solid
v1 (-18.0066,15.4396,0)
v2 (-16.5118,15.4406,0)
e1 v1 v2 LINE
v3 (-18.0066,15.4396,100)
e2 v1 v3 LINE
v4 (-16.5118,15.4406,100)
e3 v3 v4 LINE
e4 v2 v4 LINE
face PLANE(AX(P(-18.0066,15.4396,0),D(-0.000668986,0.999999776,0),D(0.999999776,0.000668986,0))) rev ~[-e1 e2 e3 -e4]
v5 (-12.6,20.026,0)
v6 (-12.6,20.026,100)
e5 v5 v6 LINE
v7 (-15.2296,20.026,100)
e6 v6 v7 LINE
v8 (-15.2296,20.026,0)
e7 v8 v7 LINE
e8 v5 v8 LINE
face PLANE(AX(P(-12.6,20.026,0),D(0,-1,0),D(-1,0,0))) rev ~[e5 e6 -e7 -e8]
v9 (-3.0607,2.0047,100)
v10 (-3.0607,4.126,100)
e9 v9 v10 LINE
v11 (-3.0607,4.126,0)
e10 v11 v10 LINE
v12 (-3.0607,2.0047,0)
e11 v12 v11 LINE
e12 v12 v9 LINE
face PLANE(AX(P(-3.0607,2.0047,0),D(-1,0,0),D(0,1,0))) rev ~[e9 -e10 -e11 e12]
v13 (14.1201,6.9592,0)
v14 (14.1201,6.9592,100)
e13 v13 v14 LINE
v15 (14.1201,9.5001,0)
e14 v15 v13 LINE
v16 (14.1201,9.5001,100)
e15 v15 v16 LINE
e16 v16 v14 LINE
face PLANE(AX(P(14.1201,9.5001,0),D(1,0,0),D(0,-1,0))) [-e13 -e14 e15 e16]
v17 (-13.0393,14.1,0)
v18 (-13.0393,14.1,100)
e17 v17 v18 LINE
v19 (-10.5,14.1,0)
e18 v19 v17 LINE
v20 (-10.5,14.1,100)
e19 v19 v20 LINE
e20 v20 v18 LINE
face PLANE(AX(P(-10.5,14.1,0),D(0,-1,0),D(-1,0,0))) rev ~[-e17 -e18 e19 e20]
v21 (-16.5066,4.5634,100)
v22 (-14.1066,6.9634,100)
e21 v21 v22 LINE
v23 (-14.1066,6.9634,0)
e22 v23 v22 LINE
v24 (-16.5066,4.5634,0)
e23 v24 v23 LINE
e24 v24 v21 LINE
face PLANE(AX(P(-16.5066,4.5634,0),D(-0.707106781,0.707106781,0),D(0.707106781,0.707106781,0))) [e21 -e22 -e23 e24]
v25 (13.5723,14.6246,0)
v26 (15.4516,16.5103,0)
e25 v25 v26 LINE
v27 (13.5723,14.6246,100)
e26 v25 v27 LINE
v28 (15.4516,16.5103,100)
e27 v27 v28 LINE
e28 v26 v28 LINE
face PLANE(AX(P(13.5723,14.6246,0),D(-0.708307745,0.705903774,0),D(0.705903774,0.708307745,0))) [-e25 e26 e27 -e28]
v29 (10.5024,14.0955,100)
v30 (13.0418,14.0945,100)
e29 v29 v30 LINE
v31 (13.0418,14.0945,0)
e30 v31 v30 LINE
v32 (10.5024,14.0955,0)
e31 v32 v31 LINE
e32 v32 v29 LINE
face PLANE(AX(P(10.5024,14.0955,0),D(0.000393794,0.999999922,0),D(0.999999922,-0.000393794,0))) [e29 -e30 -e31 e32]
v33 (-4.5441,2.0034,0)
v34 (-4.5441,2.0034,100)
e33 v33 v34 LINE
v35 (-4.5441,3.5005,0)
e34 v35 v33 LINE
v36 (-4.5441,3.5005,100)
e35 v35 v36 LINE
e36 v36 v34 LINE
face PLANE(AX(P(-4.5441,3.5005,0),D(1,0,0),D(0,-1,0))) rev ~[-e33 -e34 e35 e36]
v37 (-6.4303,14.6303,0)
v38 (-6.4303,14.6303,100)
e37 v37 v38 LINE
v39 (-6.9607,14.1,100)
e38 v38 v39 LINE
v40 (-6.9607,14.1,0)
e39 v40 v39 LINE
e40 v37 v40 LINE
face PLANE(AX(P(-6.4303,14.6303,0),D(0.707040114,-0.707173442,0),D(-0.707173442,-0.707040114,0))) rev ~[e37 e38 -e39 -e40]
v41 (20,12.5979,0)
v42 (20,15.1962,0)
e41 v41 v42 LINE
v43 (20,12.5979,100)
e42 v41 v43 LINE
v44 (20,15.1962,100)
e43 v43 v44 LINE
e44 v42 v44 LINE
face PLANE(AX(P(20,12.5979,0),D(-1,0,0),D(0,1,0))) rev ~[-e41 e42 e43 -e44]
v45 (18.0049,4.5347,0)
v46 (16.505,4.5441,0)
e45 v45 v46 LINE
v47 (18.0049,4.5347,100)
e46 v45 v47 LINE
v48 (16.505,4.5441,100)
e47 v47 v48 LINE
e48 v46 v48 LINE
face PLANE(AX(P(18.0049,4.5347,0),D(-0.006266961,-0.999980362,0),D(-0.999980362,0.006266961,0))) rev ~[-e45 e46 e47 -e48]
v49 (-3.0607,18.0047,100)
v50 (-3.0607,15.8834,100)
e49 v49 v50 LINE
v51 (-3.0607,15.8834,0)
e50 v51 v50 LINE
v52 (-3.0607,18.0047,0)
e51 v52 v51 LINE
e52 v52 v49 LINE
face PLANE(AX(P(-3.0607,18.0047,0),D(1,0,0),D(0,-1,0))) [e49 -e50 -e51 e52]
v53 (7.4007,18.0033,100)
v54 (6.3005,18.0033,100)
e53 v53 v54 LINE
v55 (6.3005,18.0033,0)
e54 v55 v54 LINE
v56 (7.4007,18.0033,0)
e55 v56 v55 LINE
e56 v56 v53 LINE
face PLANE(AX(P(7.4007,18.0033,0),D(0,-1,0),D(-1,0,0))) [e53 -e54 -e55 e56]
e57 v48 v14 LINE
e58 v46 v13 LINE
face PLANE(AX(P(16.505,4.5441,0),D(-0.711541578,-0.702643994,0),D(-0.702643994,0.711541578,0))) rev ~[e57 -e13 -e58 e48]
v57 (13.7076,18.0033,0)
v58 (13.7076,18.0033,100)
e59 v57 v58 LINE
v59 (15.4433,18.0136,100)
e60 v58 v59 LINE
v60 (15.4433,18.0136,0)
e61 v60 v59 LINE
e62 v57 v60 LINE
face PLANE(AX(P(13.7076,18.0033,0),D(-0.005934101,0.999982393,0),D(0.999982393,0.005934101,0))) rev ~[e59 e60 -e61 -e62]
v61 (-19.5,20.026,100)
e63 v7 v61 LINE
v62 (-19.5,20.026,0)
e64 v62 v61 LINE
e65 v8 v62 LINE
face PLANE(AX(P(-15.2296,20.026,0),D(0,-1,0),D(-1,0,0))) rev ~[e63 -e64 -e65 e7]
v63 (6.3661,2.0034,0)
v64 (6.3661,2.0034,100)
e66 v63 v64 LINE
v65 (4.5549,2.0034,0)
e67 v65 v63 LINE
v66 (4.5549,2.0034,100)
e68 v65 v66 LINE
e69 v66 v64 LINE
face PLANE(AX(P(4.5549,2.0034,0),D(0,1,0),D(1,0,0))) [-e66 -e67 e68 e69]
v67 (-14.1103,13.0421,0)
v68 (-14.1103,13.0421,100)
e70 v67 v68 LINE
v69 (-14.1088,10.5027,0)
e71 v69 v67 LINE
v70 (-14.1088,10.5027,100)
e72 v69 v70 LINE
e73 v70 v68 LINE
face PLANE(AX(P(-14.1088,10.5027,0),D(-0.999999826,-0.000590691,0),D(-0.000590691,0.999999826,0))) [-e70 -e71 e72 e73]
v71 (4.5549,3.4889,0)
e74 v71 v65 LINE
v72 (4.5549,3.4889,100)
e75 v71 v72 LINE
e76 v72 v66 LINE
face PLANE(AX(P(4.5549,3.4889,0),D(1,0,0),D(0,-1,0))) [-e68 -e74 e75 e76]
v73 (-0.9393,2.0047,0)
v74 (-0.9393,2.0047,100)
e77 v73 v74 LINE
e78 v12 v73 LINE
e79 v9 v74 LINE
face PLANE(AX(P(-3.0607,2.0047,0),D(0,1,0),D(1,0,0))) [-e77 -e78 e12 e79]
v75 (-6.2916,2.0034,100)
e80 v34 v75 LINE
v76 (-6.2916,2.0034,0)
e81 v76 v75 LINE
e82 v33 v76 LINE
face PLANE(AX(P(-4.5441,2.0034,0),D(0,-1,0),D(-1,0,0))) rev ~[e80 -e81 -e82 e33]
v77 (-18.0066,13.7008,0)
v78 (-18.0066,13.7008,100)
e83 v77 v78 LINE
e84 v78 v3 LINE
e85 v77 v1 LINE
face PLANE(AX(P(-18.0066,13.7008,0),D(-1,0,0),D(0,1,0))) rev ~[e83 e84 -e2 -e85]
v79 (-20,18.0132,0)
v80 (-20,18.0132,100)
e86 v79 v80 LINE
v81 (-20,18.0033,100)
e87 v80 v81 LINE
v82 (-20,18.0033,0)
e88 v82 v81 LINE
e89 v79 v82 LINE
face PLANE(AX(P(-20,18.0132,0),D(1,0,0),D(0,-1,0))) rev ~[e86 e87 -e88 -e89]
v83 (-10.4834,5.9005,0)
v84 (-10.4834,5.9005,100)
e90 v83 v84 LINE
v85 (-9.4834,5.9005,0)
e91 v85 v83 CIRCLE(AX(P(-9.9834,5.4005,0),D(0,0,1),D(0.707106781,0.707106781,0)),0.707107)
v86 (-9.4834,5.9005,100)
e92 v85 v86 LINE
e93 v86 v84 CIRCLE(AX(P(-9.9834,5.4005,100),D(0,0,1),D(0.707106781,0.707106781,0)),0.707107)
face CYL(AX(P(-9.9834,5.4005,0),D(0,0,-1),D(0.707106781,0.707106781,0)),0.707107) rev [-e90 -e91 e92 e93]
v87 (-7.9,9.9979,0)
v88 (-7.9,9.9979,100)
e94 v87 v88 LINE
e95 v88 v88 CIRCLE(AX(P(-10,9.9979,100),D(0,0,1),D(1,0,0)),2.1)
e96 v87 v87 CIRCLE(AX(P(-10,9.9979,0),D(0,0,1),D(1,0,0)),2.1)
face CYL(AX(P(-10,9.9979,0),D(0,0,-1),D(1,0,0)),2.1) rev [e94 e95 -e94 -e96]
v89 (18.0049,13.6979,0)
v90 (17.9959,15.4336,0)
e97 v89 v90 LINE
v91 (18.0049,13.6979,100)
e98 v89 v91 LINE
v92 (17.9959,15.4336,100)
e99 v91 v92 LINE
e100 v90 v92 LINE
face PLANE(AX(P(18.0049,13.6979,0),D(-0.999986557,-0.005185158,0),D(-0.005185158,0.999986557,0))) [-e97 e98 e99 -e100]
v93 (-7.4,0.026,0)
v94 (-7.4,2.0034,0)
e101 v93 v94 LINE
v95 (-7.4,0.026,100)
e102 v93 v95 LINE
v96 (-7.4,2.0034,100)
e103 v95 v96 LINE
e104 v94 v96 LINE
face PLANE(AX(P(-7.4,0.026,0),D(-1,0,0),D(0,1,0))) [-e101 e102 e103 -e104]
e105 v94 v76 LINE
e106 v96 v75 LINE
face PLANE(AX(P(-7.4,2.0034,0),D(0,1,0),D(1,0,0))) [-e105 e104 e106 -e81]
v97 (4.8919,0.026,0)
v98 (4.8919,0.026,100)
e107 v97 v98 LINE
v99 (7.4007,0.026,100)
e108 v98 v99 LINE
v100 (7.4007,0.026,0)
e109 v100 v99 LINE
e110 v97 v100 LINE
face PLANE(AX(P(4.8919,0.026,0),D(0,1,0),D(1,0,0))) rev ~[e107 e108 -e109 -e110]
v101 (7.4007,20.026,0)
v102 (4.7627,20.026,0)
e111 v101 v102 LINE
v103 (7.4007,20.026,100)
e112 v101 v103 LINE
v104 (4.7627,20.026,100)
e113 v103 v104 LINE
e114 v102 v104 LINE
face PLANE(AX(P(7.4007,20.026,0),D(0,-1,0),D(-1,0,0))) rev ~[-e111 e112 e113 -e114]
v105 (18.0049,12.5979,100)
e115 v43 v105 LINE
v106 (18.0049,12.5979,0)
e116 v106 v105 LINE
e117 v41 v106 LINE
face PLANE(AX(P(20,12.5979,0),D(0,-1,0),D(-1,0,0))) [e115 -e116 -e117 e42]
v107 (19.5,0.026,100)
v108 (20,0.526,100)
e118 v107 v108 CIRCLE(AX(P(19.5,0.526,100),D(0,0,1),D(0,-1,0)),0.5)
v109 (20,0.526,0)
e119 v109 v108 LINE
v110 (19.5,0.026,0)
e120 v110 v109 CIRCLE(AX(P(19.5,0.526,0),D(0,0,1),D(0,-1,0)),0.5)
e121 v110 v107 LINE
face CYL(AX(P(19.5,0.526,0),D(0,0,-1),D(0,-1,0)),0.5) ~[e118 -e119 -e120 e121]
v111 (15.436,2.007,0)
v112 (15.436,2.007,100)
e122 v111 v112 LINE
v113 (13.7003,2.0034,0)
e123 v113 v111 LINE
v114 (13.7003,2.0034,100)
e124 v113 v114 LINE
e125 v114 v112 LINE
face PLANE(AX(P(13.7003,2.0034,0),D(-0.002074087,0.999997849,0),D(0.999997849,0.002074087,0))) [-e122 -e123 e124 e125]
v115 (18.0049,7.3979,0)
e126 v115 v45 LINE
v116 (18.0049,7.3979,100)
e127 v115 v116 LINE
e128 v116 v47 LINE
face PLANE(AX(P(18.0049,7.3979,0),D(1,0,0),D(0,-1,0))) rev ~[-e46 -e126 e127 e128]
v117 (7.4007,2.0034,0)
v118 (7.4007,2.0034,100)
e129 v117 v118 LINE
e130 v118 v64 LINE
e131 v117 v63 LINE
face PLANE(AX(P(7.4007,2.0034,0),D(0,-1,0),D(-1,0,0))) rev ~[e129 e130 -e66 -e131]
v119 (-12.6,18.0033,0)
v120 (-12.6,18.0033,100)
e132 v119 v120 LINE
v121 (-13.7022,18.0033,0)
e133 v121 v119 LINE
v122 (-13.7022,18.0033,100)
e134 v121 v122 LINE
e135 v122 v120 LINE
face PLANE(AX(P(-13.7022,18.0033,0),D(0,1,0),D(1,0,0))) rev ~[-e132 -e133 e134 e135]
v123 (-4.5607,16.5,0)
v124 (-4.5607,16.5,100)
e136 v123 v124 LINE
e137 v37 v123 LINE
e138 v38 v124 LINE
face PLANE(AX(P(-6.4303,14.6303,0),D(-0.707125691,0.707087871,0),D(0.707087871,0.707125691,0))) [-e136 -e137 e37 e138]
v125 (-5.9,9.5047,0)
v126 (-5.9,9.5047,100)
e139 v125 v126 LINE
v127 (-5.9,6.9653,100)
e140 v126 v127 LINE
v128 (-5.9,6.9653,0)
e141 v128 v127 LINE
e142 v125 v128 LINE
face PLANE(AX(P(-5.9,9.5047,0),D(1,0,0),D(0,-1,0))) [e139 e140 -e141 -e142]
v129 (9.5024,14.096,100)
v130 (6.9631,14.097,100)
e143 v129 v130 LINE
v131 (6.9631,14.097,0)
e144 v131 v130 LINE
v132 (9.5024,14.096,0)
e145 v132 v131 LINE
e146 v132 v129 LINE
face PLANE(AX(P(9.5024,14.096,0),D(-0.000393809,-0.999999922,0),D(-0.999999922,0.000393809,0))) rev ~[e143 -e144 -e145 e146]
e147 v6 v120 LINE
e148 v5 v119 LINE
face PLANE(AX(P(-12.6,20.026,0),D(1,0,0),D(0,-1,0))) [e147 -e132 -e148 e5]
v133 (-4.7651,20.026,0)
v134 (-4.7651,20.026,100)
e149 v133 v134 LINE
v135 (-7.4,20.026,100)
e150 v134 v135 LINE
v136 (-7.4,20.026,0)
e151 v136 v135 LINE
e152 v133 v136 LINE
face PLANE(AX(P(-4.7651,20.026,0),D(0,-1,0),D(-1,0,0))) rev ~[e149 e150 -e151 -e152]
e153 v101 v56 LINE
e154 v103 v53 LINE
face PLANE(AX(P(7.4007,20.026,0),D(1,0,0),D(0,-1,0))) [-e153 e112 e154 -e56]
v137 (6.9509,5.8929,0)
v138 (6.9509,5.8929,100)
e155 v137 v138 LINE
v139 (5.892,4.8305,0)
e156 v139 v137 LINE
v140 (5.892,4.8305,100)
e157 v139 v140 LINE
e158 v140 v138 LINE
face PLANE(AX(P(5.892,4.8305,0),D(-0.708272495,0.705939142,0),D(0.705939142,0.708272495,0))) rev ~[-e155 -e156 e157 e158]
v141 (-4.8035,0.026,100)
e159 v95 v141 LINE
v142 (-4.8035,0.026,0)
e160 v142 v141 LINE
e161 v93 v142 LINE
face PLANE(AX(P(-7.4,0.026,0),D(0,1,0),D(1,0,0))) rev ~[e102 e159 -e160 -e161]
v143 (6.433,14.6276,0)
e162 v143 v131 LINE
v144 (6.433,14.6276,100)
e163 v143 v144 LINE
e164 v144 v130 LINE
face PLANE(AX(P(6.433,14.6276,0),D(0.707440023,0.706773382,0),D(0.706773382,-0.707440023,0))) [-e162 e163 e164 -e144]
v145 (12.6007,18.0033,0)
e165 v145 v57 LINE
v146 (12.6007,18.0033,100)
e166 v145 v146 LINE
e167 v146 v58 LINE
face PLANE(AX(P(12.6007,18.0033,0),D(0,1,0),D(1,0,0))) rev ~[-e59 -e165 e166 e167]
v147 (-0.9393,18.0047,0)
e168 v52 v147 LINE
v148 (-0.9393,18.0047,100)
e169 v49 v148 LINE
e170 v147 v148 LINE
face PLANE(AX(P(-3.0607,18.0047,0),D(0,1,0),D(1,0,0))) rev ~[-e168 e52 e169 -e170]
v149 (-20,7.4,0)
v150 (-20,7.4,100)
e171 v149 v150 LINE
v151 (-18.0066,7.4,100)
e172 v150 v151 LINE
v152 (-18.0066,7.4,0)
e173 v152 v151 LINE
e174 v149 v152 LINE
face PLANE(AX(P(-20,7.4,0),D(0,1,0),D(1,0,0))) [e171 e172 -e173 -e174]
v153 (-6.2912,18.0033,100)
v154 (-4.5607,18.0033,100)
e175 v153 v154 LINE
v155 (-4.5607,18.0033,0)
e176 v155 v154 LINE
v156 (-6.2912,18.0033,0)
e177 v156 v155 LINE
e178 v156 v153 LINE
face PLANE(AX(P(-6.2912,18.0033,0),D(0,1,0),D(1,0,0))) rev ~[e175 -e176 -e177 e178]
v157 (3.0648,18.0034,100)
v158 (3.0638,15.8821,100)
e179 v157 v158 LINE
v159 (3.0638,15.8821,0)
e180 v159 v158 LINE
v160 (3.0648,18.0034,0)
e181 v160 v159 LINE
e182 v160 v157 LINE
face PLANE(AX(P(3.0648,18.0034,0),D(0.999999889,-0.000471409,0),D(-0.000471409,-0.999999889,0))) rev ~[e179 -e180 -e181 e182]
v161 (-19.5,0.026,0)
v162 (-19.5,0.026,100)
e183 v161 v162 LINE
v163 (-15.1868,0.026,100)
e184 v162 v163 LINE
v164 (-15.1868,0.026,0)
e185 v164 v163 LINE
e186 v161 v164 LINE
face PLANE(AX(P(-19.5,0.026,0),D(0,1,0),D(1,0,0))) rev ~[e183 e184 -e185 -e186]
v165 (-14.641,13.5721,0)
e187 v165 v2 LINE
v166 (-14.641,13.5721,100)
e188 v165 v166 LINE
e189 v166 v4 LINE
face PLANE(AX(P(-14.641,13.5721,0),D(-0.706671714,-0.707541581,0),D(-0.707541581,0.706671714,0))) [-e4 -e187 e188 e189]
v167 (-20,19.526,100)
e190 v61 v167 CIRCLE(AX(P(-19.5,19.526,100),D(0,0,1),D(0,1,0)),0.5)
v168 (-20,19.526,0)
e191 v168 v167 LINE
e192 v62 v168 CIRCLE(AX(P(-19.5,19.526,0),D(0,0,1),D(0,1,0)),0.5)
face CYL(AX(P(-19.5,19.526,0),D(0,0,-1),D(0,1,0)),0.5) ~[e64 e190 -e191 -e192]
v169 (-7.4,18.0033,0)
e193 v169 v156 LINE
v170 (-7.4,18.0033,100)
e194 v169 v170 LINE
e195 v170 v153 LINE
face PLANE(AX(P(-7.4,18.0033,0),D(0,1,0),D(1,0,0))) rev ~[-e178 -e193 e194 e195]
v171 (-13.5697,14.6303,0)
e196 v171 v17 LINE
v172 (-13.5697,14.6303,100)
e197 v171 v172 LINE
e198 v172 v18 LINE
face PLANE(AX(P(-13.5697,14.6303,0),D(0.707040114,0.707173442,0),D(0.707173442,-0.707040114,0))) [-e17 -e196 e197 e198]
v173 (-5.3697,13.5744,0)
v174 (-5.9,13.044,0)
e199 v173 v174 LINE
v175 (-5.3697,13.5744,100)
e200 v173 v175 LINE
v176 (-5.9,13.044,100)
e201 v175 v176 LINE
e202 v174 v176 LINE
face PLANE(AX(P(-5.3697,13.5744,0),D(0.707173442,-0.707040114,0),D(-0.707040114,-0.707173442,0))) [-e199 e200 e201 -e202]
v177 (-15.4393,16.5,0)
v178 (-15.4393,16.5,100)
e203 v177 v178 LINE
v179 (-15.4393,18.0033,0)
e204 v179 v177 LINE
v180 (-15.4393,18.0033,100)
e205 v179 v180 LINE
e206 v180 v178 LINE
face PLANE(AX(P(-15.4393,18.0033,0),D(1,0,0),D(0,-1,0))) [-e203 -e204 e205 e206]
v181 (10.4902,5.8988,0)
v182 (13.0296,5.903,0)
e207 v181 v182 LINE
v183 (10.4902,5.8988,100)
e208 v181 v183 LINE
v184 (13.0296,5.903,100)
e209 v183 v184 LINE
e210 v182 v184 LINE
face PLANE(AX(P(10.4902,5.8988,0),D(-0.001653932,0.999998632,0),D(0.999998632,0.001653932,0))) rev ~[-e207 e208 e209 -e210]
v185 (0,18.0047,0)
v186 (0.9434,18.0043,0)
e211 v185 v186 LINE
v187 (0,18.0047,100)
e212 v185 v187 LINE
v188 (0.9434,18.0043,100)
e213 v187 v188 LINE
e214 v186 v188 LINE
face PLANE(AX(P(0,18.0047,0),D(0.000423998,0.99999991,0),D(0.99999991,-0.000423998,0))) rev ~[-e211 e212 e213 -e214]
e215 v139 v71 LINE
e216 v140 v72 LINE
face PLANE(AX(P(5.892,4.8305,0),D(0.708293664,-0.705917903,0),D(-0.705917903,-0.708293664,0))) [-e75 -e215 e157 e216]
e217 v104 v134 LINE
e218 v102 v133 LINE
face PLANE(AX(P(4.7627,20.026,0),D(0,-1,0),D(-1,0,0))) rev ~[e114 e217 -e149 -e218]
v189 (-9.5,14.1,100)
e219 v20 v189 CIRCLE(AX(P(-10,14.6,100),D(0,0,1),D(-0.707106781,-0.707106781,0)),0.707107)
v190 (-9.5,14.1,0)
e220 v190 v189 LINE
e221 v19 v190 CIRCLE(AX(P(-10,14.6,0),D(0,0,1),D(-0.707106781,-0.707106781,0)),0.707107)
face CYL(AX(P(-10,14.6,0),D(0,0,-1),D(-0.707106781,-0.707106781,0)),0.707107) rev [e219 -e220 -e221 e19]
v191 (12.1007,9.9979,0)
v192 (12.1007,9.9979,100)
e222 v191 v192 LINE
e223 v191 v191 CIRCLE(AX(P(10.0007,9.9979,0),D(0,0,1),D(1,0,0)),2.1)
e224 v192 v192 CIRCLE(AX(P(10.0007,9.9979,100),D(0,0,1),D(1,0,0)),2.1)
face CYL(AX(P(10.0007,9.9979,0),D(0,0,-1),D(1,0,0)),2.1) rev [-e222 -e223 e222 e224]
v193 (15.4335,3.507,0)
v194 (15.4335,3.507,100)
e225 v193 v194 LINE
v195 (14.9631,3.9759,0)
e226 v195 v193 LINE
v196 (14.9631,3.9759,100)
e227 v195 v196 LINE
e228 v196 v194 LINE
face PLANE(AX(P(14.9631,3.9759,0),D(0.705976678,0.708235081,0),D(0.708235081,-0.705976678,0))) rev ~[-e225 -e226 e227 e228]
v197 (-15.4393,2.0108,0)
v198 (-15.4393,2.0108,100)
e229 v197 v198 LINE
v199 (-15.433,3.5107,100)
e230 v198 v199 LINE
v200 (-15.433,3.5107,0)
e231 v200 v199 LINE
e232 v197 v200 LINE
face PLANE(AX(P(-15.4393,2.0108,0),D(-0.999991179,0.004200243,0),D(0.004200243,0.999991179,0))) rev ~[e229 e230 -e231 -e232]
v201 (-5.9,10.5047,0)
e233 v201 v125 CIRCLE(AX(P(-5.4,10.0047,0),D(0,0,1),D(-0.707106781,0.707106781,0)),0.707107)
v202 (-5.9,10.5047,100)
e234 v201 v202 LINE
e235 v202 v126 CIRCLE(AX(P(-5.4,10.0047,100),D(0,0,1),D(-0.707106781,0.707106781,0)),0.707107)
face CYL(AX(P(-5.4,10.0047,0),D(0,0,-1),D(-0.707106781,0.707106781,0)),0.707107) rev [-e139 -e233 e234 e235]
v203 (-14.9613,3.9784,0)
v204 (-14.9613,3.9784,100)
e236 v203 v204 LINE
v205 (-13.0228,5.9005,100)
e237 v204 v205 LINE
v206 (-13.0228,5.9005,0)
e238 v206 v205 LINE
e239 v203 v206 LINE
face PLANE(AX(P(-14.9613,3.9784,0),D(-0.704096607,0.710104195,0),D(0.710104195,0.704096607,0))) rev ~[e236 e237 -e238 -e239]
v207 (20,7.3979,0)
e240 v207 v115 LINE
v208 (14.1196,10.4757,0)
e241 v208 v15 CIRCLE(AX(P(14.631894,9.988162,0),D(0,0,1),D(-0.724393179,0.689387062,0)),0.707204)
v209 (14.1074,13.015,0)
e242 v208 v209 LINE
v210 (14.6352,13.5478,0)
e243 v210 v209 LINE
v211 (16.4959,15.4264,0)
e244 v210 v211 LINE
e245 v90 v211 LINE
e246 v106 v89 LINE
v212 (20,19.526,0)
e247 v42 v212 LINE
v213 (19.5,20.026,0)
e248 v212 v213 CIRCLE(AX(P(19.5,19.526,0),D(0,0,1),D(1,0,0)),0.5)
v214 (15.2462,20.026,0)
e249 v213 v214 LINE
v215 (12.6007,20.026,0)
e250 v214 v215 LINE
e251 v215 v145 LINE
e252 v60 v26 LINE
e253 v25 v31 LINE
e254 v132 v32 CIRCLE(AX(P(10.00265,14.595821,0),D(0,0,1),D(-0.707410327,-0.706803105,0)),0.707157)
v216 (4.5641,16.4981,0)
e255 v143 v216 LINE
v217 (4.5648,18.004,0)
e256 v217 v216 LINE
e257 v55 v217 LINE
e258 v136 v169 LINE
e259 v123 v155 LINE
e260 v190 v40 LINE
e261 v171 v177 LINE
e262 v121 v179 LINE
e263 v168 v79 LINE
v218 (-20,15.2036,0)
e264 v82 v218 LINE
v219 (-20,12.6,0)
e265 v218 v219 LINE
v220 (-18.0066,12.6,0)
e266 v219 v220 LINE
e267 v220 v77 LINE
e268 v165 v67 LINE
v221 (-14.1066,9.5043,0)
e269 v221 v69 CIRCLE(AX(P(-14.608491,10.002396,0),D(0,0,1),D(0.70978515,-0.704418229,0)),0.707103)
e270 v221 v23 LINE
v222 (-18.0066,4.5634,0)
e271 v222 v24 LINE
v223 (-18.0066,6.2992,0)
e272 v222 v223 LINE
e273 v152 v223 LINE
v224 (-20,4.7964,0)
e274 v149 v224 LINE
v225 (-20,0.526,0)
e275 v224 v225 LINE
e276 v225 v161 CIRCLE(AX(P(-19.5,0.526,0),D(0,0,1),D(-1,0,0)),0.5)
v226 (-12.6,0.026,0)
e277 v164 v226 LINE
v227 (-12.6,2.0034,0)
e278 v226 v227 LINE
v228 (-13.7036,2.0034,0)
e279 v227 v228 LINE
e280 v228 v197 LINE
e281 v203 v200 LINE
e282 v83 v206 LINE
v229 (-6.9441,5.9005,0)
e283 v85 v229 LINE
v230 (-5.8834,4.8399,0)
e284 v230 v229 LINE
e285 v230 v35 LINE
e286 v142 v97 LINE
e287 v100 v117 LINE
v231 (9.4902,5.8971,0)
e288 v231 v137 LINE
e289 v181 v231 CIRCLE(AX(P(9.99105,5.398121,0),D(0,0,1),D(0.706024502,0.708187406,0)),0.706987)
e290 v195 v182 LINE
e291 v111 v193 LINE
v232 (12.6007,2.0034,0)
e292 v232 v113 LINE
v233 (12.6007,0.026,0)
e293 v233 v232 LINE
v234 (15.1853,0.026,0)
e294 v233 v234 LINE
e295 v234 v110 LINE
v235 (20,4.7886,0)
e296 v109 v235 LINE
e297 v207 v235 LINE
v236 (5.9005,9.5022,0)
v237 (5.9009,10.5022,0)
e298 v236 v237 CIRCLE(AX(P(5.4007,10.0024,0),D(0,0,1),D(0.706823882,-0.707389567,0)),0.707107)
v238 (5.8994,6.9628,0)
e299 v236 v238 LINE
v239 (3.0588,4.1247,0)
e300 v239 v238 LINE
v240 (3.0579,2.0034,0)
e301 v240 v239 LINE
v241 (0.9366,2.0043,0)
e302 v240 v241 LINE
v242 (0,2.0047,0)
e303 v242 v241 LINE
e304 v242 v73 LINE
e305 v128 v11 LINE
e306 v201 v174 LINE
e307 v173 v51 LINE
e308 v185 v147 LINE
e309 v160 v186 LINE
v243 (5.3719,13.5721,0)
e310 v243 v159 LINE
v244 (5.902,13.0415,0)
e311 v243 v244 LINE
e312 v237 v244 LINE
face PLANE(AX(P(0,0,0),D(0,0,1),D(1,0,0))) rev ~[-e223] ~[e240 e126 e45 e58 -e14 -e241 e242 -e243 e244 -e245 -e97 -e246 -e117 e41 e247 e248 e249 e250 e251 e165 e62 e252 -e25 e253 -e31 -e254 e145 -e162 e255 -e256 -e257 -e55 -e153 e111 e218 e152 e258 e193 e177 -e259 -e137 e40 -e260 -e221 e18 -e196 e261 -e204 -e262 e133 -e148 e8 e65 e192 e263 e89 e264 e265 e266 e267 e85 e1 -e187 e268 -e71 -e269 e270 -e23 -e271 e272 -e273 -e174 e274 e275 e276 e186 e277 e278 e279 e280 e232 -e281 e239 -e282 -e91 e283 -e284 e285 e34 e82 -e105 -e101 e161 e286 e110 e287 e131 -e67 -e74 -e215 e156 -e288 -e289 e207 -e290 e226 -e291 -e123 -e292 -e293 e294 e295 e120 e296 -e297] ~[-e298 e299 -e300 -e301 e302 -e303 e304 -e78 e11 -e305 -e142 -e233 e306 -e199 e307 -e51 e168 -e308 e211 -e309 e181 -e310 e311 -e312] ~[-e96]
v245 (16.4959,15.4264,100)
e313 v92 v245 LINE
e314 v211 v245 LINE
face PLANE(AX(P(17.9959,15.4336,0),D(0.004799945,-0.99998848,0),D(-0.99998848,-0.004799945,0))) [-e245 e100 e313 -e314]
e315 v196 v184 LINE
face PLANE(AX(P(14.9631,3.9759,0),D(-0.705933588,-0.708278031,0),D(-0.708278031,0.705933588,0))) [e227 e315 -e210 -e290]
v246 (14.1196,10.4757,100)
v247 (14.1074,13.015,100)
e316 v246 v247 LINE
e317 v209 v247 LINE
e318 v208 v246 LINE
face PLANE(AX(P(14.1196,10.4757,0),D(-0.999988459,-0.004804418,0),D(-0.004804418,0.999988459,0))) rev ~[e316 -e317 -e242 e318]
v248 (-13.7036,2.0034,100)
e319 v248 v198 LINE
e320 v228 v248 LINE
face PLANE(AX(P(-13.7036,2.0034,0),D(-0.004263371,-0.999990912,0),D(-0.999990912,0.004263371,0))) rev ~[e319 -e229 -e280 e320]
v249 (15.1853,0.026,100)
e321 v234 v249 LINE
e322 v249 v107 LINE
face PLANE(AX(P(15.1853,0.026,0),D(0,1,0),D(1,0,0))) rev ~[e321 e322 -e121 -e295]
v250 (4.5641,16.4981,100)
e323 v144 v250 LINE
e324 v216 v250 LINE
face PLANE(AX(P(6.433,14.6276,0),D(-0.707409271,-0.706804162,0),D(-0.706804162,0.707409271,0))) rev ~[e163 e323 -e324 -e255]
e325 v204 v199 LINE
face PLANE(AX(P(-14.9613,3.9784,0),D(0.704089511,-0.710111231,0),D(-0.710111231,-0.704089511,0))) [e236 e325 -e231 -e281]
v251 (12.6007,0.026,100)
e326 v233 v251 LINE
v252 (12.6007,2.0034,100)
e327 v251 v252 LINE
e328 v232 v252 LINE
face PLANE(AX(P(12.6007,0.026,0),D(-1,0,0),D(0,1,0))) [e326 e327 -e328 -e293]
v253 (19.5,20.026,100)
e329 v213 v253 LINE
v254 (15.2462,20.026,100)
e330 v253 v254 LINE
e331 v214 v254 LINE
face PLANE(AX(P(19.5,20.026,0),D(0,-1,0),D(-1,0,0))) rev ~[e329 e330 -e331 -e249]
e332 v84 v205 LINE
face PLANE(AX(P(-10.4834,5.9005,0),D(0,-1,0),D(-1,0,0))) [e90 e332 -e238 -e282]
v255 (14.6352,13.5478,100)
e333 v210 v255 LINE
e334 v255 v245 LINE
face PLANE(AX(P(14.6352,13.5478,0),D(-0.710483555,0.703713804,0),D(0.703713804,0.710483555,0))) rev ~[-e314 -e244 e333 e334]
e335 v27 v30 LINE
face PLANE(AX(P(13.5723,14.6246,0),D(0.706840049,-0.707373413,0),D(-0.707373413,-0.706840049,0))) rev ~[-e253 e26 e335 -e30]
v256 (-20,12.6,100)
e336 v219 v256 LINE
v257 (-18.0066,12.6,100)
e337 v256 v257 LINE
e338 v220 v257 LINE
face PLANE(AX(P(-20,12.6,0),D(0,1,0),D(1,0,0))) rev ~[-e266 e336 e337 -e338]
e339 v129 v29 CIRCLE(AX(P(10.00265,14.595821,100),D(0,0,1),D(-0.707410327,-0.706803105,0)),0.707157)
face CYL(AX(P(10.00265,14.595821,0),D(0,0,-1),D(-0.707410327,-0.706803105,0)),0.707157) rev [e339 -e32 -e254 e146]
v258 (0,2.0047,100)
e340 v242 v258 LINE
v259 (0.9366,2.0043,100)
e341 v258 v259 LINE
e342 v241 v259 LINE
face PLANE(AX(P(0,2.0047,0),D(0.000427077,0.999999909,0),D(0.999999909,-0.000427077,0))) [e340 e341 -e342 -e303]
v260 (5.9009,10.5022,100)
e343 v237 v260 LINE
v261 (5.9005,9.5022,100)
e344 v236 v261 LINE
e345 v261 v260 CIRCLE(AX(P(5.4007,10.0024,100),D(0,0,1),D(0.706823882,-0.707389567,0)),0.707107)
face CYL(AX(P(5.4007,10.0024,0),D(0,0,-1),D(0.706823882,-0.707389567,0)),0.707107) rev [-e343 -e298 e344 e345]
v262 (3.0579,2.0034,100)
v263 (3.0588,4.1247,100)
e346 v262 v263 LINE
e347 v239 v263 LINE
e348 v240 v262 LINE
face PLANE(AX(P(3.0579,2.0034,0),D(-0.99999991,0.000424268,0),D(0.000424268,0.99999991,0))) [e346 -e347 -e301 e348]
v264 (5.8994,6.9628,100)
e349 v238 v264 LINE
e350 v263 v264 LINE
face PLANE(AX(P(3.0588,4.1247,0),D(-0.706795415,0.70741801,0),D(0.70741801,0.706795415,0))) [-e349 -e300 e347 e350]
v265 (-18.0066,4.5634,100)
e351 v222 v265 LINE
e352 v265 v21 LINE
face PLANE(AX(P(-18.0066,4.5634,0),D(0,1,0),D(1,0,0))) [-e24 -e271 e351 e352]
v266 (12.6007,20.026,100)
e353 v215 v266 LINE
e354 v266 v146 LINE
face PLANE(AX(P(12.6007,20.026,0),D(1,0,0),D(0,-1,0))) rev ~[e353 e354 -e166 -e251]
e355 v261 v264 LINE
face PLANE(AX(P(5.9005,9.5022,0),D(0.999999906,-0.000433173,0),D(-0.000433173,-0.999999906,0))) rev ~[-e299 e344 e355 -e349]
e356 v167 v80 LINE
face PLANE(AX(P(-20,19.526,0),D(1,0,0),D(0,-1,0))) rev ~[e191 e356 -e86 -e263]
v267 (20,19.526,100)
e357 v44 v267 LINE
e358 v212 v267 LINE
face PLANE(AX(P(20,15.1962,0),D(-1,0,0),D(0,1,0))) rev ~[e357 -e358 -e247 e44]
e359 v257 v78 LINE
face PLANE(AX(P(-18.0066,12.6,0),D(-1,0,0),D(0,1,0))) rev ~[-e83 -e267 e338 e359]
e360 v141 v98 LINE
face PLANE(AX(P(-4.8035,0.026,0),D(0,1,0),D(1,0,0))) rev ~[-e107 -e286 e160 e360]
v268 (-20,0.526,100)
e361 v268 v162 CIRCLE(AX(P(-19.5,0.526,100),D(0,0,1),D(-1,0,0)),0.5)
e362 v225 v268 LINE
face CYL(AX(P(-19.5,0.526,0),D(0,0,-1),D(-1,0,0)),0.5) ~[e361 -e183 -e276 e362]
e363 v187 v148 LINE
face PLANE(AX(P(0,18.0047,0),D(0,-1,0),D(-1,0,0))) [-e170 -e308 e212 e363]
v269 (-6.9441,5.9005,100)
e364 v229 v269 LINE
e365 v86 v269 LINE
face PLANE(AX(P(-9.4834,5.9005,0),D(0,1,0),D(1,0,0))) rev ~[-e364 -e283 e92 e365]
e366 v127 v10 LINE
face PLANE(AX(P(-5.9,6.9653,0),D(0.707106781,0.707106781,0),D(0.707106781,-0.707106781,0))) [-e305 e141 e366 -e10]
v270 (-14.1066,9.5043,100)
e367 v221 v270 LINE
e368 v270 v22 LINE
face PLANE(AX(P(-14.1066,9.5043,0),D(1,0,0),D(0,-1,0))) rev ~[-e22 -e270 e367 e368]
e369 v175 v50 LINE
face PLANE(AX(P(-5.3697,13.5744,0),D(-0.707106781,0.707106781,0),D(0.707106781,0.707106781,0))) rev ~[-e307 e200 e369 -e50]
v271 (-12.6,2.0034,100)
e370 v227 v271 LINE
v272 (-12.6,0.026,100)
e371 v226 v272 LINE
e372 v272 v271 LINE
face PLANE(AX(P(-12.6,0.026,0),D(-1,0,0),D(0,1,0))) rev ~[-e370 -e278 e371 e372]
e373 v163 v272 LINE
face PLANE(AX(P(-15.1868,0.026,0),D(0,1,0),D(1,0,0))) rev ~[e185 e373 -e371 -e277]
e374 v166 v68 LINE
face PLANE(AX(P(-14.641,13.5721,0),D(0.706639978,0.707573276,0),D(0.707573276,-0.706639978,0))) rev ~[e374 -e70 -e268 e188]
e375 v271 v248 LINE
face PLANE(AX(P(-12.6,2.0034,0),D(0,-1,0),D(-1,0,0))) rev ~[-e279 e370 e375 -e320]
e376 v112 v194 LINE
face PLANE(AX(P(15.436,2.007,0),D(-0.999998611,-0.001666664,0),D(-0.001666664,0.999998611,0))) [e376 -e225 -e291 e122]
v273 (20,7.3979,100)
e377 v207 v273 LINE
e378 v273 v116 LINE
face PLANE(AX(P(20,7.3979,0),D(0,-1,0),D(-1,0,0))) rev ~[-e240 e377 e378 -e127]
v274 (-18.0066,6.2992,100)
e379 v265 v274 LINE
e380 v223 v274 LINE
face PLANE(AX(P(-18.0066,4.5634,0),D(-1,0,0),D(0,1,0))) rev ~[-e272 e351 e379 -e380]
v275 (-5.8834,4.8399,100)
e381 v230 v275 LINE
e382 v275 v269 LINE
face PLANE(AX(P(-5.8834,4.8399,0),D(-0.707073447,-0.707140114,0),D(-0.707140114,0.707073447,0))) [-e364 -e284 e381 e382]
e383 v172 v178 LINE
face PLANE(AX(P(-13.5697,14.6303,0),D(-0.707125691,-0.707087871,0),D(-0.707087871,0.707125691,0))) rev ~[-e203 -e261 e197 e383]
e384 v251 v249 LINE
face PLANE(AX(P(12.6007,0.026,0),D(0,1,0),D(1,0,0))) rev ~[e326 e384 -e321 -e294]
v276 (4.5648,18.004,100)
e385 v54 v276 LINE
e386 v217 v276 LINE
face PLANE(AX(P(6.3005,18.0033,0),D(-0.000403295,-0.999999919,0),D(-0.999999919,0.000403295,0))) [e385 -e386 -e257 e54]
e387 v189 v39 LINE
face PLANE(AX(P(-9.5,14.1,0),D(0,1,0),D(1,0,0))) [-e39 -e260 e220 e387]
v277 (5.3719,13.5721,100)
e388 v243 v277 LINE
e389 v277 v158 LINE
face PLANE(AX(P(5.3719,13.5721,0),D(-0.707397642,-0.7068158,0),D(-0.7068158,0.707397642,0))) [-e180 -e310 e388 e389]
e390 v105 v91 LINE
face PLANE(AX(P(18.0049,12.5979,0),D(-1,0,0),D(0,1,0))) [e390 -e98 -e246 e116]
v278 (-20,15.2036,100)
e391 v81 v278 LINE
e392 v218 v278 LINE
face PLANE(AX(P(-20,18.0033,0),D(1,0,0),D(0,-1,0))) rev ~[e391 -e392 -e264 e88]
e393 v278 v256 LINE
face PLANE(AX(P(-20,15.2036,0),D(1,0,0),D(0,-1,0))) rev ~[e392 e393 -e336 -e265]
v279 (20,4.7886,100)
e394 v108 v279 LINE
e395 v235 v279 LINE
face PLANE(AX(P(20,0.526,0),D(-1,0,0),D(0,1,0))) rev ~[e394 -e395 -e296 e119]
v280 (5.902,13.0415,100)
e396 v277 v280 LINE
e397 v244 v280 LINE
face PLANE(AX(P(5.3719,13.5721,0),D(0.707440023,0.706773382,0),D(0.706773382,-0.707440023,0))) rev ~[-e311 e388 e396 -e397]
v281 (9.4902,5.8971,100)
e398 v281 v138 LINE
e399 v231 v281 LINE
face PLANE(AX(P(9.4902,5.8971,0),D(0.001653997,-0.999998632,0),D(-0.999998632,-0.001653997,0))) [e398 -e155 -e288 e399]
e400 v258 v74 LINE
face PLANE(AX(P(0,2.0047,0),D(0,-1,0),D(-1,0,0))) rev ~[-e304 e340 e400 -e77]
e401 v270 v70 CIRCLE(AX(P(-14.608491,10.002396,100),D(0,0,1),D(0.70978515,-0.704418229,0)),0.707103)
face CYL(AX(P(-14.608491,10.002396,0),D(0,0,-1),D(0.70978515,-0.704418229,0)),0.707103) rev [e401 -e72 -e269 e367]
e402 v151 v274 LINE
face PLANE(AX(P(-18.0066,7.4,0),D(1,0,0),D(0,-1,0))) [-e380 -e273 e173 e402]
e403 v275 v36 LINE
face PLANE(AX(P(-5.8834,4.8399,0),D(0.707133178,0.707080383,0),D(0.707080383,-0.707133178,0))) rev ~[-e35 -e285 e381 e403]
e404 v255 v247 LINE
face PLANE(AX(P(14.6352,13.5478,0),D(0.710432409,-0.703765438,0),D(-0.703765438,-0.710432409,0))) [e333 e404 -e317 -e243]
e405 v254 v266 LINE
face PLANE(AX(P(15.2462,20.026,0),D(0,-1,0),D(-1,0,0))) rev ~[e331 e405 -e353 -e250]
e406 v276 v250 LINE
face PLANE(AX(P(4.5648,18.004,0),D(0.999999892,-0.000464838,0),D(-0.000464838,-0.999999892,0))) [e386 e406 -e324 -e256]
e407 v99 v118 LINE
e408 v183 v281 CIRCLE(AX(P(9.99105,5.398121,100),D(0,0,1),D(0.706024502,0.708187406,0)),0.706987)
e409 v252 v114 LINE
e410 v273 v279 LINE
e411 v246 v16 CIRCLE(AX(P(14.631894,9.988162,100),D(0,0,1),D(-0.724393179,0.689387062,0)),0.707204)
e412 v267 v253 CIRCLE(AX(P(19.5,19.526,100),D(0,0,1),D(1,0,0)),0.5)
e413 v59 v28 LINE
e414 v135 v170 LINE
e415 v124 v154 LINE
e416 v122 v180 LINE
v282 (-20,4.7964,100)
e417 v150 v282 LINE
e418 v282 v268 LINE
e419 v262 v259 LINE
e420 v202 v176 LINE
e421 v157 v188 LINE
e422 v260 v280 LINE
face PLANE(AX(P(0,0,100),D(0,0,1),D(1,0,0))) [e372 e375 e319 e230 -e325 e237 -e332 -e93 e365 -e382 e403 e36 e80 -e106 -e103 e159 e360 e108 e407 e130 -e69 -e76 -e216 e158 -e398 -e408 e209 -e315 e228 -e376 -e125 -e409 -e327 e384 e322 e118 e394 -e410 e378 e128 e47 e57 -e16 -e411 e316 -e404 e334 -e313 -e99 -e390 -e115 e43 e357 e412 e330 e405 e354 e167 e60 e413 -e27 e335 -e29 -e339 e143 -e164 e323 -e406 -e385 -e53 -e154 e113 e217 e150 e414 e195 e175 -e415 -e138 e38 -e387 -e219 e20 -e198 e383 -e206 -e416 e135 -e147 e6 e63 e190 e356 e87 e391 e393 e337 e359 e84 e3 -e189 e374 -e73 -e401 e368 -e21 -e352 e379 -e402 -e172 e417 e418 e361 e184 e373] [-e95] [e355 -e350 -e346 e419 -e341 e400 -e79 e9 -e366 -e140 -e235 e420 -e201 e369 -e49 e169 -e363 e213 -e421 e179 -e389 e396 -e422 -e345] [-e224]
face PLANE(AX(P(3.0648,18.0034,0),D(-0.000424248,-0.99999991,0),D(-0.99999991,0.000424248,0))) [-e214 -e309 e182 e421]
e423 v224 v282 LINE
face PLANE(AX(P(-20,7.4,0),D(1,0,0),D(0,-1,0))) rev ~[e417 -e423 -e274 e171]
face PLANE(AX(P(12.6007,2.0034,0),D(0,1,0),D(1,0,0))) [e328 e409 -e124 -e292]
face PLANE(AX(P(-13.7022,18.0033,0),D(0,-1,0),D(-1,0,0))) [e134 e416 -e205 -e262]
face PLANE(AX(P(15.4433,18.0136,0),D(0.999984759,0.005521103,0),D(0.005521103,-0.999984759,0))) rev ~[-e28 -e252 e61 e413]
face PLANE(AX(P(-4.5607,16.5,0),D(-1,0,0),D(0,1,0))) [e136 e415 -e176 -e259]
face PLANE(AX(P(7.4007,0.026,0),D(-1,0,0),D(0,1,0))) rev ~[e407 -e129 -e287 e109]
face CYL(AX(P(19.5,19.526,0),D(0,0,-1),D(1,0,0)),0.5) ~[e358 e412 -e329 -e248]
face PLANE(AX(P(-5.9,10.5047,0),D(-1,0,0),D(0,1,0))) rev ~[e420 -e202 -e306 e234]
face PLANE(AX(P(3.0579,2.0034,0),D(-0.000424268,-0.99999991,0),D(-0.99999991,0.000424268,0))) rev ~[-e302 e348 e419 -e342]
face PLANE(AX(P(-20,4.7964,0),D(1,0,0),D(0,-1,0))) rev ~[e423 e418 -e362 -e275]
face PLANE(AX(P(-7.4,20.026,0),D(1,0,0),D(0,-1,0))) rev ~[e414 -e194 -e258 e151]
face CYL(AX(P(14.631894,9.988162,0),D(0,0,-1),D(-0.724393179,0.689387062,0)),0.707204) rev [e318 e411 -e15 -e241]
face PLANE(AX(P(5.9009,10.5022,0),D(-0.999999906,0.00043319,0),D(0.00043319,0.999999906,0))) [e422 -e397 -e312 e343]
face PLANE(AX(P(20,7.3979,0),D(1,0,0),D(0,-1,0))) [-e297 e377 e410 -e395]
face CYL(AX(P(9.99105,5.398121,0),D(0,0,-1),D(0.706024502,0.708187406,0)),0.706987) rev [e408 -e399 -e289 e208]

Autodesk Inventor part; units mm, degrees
ref_plane "YZ Plane" through (0, 0, 0) normal (1, 0, 0) x (0, 1, 0)
ref_plane "XZ Plane" through (0, 0, 0) normal (0, 1, 0) x (-1, 0, 0)
ref_plane "XY Plane" through (0, 0, 0) normal (0, 0, 1) x (1, 0, 0)
sketch "Szkic1" plane through (0, 0, 0) normal (0, 0, 1) x (1, 0, 0)
  circle A0 centre (-10, 9.9979) radius 2.1
  line L0 (-14.9613, 3.9784) -> (-13.0228, 5.9005)
  line L1 (-18.0066, 4.5634) -> (-18.0066, 6.2992)
  line L2 (-18.0066, 13.7008) -> (-18.0066, 15.4396)
  line L3 (-14.9613, 3.9784) -> (-15.433, 3.5107)
  line L4 (-13.7036, 2.0034) -> (-15.4393, 2.0108)
  line L5 (-13.5697, 14.6303) -> (-15.4393, 16.5)
  line L6 (-13.5697, 14.6303) -> (-13.0393, 14.1)
  line L7 (-14.641, 13.5721) -> (-14.1103, 13.0421)
  line L8 (-13.7022, 18.0033) -> (-15.4393, 18.0033)
  line L9 (-14.641, 13.5721) -> (-16.5118, 15.4406)
  line L10 (-15.4393, 18.0033) -> (-15.4393, 16.5)
  line L11 (-18.0066, 15.4396) -> (-16.5118, 15.4406)
  line L12 (-18.0066, 4.5634) -> (-16.5066, 4.5634)
  line L13 (-15.4393, 2.0108) -> (-15.433, 3.5107)
  line L14 (-6.4303, 14.6303) -> (-6.9607, 14.1)
  line L15 (-5.3697, 13.5744) -> (-5.9, 13.044)
  line L16 (-5.8834, 4.8399) -> (-6.9441, 5.9005)
  line L17 (0, 2.0047) -> (-0.9393, 2.0047)
  line L18 (0, 18.0047) -> (-0.9393, 18.0047)
  line L19 (-6.4303, 14.6303) -> (-4.5607, 16.5)
  line L20 (-3.0607, 18.0047) -> (-3.0607, 15.8834)
  line L21 (-3.0607, 18.0047) -> (-0.9393, 18.0047)
  line L22 (-5.3697, 13.5744) -> (-3.0607, 15.8834)
  line L23 (-3.0607, 2.0047) -> (-3.0607, 4.126)
  line L24 (-5.8834, 4.8399) -> (-4.5441, 3.5005)
  line L25 (-3.0607, 2.0047) -> (-0.9393, 2.0047)
  line L26 (-14.1088, 10.5027) -> (-14.1103, 13.0421)
  line L27 (-10.5, 14.1) -> (-13.0393, 14.1)
  line L28 (-9.5, 14.1) -> (-6.9607, 14.1)
  line L29 (-5.9, 10.5047) -> (-5.9, 13.044)
  line L30 (-5.9, 9.5047) -> (-5.9, 6.9653)
  line L31 (-9.4834, 5.9005) -> (-6.9441, 5.9005)
  line L32 (-10.4834, 5.9005) -> (-13.0228, 5.9005)
  arc A1 (-10.5, 14.1) -> (-9.5, 14.1) centre (-10, 14.6) ccw
  arc A2 (-14.1066, 9.5043) -> (-14.1088, 10.5027) centre (-14.6085, 10.0024) ccw
  arc A3 (-9.4834, 5.9005) -> (-10.4834, 5.9005) centre (-9.9834, 5.4005) ccw
  arc A4 (-5.9, 10.5047) -> (-5.9, 9.5047) centre (-5.4, 10.0047) ccw
  line L33 (10.4902, 5.8988) -> (13.0296, 5.903)
  arc A5 (5.9005, 9.5022) -> (5.9009, 10.5022) centre (5.4007, 10.0024) ccw
  circle A6 centre (10.0007, 9.9979) radius 2.1
  line L34 (5.9009, 10.5022) -> (5.902, 13.0415)
  line L35 (9.5024, 14.096) -> (6.9631, 14.097)
  line L36 (6.433, 14.6276) -> (6.9631, 14.097)
  arc A7 (14.1196, 10.4757) -> (14.1201, 9.5001) centre (14.6318, 9.9882) ccw
  arc A8 (9.5024, 14.096) -> (10.5024, 14.0955) centre (10.0026, 14.5957) ccw
  line L37 (14.1196, 10.4757) -> (14.1074, 13.015)
  line L38 (10.5024, 14.0955) -> (13.0418, 14.0945)
  line L39 (14.6352, 13.5478) -> (14.1074, 13.015)
  line L40 (13.5723, 14.6246) -> (13.0418, 14.0945)
  line L41 (14.9631, 3.9759) -> (13.0296, 5.903)
  line L42 (15.4994, 6.8934) -> (15.1709, 6.8935) construction
  line L43 (14.9631, 3.9759) -> (15.4335, 3.507)
  line L44 (13.7003, 2.0034) -> (15.436, 2.007)
  line L45 (15.436, 2.007) -> (15.4335, 3.507)
  line L46 (18.0049, 4.5347) -> (16.505, 4.5441)
  arc A9 (10.4902, 5.8988) -> (9.4902, 5.8971) centre (9.991, 5.398) ccw
  line L47 (9.4902, 5.8971) -> (6.9509, 5.8929)
  line L48 (5.3719, 13.5721) -> (5.902, 13.0415)
  line L49 (5.3719, 13.5721) -> (3.0638, 15.8821)
  line L50 (6.433, 14.6276) -> (4.5641, 16.4981)
  line L51 (0, 18.0047) -> (0.9434, 18.0043)
  line L52 (3.0648, 18.0034) -> (0.9434, 18.0043)
  line L53 (3.0648, 18.0034) -> (3.0638, 15.8821)
  line L54 (4.5648, 18.004) -> (4.5641, 16.4981)
  line L55 (5.9005, 9.5022) -> (5.8994, 6.9628)
  line L56 (5.892, 4.8305) -> (6.9509, 5.8929)
  line L57 (5.892, 4.8305) -> (4.5549, 3.4889)
  line L58 (18.0049, 13.6979) -> (17.9959, 15.4336)
  line L59 (13.5723, 14.6246) -> (15.4516, 16.5103)
  line L60 (13.7076, 18.0033) -> (15.4433, 18.0136)
  line L61 (14.6352, 13.5478) -> (16.4959, 15.4264)
  line L62 (15.4433, 18.0136) -> (15.4516, 16.5103)
  line L63 (17.9959, 15.4336) -> (16.4959, 15.4264)
  line L64 (3.0579, 2.0034) -> (3.0588, 4.1247)
  line L65 (3.0579, 2.0034) -> (0.9366, 2.0043)
  line L66 (0, 2.0047) -> (0.9366, 2.0043)
  line L67 (-4.5607, 16.5) -> (-4.5607, 18.0033)
  line L68 (-6.2912, 18.0033) -> (-4.5607, 18.0033)
  line L69 (6.3005, 18.0033) -> (4.5648, 18.004)
  line L70 (-14.1066, 9.5043) -> (-14.1066, 6.9634)
  line L71 (14.1201, 9.5001) -> (14.1201, 6.9592)
  line L72 (3.0588, 4.1247) -> (5.8994, 6.9628)
  line L73 (-5.9, 6.9653) -> (-3.0607, 4.126)
  line L74 (-4.5441, 2.0034) -> (-6.2916, 2.0034)
  line L75 (-4.5441, 3.5005) -> (-4.5441, 2.0034)
  line L76 (4.5549, 2.0034) -> (6.3661, 2.0034)
  line L77 (6.5461, 1.5766) -> (6.5038, 1.5343)
  line L78 (4.5549, 3.4889) -> (4.5549, 2.0034)
  line L79 (-20, 18.0132) -> (-20, 18.0033)
  line L80 (-15.2296, 20.026) -> (-19.5, 20.026)
  line L81 (19.5, 20.026) -> (15.2462, 20.026)
  line L82 (4.7627, 20.026) -> (-4.7651, 20.026)
  line L83 (20, 0.526) -> (20, 4.7886)
  line L84 (20, 15.1962) -> (20, 19.526)
  line L85 (15.1853, 0.026) -> (19.5, 0.026)
  line L86 (-19.5, 0.026) -> (-15.1868, 0.026)
  line L87 (-4.8035, 0.026) -> (4.8919, 0.026)
  line L88 (-20, 19.526) -> (-20, 15.2036)
  line L89 (-20, 4.7964) -> (-20, 0.526)
  line L90 (-16.5066, 4.5634) -> (-14.1066, 6.9634)
  line L91 (16.505, 4.5441) -> (14.1201, 6.9592)
  line L92 (-8.9462, 9.9979) -> (-8.9325, 9.9979)
  arc A10 (-19.5, 20.026) -> (-20, 19.526) centre (-19.5, 19.526) ccw
  arc A11 (20, 19.526) -> (19.5, 20.026) centre (19.5, 19.526) ccw
  arc A12 (19.5, 0.026) -> (20, 0.526) centre (19.5, 0.526) ccw
  arc A13 (-20, 0.526) -> (-19.5, 0.026) centre (-19.5, 0.526) ccw
  line L93 (-12.6, 20.026) -> (-12.6, 18.0033)
  line L94 (-7.4, 20.026) -> (-7.4, 18.0033)
  line L95 (-4.7651, 20.026) -> (-7.4, 20.026)
  line L96 (-12.6, 20.026) -> (-15.2296, 20.026)
  line L97 (-13.7022, 18.0033) -> (-12.6, 18.0033)
  line L98 (-7.4, 18.0033) -> (-6.2912, 18.0033)
  line L99 (-20, 12.6) -> (-18.0066, 12.6)
  line L100 (-18.0066, 12.6) -> (-18.0066, 13.7008)
  line L101 (-20, 7.4) -> (-18.0066, 7.4)
  line L102 (-18.0066, 7.4) -> (-18.0066, 6.2992)
  line L103 (-20, 15.2036) -> (-20, 12.6)
  line L104 (-20, 7.4) -> (-20, 4.7964)
  line L105 (-7.4, 0.026) -> (-7.4, 2.0034)
  line L106 (-7.4, 2.0034) -> (-6.2916, 2.0034)
  line L107 (-12.6, 0.026) -> (-12.6, 2.0034)
  line L108 (-12.6, 2.0034) -> (-13.7036, 2.0034)
  line L109 (-15.1868, 0.026) -> (-12.6, 0.026)
  line L110 (-7.4, 0.026) -> (-4.8035, 0.026)
  line L111 (7.4007, 20.026) -> (4.7627, 20.026)
  line L112 (15.2462, 20.026) -> (12.6007, 20.026)
  line L113 (12.6007, 20.026) -> (12.6007, 18.0033)
  line L114 (12.6007, 18.0033) -> (13.7076, 18.0033)
  line L115 (7.4007, 20.026) -> (7.4007, 18.0033)
  line L116 (7.4007, 18.0033) -> (6.3005, 18.0033)
  line L117 (20, 7.3979) -> (20, 4.7886)
  line L118 (20, 12.5979) -> (20, 15.1962)
  line L119 (20, 12.5979) -> (18.0049, 12.5979)
  line L120 (18.0049, 12.5979) -> (18.0049, 13.6979)
  line L121 (20, 7.4) -> (20, 7.3979)
  line L122 (20, 7.3979) -> (18.0049, 7.3979)
  line L123 (18.0049, 7.3979) -> (18.0049, 4.5347)
  line L124 (10.0007, 9.9979) -> (19.9726, 9.9979) construction
  line L125 (12.6007, 0.026) -> (15.1853, 0.026)
  line L126 (4.8919, 0.026) -> (7.4007, 0.026)
  line L127 (12.6007, 0.026) -> (12.6007, 2.0034)
  line L128 (12.6007, 2.0034) -> (13.7003, 2.0034)
  line L129 (7.4007, 0.026) -> (7.4007, 2.0034)
  line L130 (7.4007, 2.0034) -> (6.3661, 2.0034)
extrude "Wyciągnięcie proste1" add sketch "Szkic1" along normal blind 100
properties part number "Profil dolny - noga"
